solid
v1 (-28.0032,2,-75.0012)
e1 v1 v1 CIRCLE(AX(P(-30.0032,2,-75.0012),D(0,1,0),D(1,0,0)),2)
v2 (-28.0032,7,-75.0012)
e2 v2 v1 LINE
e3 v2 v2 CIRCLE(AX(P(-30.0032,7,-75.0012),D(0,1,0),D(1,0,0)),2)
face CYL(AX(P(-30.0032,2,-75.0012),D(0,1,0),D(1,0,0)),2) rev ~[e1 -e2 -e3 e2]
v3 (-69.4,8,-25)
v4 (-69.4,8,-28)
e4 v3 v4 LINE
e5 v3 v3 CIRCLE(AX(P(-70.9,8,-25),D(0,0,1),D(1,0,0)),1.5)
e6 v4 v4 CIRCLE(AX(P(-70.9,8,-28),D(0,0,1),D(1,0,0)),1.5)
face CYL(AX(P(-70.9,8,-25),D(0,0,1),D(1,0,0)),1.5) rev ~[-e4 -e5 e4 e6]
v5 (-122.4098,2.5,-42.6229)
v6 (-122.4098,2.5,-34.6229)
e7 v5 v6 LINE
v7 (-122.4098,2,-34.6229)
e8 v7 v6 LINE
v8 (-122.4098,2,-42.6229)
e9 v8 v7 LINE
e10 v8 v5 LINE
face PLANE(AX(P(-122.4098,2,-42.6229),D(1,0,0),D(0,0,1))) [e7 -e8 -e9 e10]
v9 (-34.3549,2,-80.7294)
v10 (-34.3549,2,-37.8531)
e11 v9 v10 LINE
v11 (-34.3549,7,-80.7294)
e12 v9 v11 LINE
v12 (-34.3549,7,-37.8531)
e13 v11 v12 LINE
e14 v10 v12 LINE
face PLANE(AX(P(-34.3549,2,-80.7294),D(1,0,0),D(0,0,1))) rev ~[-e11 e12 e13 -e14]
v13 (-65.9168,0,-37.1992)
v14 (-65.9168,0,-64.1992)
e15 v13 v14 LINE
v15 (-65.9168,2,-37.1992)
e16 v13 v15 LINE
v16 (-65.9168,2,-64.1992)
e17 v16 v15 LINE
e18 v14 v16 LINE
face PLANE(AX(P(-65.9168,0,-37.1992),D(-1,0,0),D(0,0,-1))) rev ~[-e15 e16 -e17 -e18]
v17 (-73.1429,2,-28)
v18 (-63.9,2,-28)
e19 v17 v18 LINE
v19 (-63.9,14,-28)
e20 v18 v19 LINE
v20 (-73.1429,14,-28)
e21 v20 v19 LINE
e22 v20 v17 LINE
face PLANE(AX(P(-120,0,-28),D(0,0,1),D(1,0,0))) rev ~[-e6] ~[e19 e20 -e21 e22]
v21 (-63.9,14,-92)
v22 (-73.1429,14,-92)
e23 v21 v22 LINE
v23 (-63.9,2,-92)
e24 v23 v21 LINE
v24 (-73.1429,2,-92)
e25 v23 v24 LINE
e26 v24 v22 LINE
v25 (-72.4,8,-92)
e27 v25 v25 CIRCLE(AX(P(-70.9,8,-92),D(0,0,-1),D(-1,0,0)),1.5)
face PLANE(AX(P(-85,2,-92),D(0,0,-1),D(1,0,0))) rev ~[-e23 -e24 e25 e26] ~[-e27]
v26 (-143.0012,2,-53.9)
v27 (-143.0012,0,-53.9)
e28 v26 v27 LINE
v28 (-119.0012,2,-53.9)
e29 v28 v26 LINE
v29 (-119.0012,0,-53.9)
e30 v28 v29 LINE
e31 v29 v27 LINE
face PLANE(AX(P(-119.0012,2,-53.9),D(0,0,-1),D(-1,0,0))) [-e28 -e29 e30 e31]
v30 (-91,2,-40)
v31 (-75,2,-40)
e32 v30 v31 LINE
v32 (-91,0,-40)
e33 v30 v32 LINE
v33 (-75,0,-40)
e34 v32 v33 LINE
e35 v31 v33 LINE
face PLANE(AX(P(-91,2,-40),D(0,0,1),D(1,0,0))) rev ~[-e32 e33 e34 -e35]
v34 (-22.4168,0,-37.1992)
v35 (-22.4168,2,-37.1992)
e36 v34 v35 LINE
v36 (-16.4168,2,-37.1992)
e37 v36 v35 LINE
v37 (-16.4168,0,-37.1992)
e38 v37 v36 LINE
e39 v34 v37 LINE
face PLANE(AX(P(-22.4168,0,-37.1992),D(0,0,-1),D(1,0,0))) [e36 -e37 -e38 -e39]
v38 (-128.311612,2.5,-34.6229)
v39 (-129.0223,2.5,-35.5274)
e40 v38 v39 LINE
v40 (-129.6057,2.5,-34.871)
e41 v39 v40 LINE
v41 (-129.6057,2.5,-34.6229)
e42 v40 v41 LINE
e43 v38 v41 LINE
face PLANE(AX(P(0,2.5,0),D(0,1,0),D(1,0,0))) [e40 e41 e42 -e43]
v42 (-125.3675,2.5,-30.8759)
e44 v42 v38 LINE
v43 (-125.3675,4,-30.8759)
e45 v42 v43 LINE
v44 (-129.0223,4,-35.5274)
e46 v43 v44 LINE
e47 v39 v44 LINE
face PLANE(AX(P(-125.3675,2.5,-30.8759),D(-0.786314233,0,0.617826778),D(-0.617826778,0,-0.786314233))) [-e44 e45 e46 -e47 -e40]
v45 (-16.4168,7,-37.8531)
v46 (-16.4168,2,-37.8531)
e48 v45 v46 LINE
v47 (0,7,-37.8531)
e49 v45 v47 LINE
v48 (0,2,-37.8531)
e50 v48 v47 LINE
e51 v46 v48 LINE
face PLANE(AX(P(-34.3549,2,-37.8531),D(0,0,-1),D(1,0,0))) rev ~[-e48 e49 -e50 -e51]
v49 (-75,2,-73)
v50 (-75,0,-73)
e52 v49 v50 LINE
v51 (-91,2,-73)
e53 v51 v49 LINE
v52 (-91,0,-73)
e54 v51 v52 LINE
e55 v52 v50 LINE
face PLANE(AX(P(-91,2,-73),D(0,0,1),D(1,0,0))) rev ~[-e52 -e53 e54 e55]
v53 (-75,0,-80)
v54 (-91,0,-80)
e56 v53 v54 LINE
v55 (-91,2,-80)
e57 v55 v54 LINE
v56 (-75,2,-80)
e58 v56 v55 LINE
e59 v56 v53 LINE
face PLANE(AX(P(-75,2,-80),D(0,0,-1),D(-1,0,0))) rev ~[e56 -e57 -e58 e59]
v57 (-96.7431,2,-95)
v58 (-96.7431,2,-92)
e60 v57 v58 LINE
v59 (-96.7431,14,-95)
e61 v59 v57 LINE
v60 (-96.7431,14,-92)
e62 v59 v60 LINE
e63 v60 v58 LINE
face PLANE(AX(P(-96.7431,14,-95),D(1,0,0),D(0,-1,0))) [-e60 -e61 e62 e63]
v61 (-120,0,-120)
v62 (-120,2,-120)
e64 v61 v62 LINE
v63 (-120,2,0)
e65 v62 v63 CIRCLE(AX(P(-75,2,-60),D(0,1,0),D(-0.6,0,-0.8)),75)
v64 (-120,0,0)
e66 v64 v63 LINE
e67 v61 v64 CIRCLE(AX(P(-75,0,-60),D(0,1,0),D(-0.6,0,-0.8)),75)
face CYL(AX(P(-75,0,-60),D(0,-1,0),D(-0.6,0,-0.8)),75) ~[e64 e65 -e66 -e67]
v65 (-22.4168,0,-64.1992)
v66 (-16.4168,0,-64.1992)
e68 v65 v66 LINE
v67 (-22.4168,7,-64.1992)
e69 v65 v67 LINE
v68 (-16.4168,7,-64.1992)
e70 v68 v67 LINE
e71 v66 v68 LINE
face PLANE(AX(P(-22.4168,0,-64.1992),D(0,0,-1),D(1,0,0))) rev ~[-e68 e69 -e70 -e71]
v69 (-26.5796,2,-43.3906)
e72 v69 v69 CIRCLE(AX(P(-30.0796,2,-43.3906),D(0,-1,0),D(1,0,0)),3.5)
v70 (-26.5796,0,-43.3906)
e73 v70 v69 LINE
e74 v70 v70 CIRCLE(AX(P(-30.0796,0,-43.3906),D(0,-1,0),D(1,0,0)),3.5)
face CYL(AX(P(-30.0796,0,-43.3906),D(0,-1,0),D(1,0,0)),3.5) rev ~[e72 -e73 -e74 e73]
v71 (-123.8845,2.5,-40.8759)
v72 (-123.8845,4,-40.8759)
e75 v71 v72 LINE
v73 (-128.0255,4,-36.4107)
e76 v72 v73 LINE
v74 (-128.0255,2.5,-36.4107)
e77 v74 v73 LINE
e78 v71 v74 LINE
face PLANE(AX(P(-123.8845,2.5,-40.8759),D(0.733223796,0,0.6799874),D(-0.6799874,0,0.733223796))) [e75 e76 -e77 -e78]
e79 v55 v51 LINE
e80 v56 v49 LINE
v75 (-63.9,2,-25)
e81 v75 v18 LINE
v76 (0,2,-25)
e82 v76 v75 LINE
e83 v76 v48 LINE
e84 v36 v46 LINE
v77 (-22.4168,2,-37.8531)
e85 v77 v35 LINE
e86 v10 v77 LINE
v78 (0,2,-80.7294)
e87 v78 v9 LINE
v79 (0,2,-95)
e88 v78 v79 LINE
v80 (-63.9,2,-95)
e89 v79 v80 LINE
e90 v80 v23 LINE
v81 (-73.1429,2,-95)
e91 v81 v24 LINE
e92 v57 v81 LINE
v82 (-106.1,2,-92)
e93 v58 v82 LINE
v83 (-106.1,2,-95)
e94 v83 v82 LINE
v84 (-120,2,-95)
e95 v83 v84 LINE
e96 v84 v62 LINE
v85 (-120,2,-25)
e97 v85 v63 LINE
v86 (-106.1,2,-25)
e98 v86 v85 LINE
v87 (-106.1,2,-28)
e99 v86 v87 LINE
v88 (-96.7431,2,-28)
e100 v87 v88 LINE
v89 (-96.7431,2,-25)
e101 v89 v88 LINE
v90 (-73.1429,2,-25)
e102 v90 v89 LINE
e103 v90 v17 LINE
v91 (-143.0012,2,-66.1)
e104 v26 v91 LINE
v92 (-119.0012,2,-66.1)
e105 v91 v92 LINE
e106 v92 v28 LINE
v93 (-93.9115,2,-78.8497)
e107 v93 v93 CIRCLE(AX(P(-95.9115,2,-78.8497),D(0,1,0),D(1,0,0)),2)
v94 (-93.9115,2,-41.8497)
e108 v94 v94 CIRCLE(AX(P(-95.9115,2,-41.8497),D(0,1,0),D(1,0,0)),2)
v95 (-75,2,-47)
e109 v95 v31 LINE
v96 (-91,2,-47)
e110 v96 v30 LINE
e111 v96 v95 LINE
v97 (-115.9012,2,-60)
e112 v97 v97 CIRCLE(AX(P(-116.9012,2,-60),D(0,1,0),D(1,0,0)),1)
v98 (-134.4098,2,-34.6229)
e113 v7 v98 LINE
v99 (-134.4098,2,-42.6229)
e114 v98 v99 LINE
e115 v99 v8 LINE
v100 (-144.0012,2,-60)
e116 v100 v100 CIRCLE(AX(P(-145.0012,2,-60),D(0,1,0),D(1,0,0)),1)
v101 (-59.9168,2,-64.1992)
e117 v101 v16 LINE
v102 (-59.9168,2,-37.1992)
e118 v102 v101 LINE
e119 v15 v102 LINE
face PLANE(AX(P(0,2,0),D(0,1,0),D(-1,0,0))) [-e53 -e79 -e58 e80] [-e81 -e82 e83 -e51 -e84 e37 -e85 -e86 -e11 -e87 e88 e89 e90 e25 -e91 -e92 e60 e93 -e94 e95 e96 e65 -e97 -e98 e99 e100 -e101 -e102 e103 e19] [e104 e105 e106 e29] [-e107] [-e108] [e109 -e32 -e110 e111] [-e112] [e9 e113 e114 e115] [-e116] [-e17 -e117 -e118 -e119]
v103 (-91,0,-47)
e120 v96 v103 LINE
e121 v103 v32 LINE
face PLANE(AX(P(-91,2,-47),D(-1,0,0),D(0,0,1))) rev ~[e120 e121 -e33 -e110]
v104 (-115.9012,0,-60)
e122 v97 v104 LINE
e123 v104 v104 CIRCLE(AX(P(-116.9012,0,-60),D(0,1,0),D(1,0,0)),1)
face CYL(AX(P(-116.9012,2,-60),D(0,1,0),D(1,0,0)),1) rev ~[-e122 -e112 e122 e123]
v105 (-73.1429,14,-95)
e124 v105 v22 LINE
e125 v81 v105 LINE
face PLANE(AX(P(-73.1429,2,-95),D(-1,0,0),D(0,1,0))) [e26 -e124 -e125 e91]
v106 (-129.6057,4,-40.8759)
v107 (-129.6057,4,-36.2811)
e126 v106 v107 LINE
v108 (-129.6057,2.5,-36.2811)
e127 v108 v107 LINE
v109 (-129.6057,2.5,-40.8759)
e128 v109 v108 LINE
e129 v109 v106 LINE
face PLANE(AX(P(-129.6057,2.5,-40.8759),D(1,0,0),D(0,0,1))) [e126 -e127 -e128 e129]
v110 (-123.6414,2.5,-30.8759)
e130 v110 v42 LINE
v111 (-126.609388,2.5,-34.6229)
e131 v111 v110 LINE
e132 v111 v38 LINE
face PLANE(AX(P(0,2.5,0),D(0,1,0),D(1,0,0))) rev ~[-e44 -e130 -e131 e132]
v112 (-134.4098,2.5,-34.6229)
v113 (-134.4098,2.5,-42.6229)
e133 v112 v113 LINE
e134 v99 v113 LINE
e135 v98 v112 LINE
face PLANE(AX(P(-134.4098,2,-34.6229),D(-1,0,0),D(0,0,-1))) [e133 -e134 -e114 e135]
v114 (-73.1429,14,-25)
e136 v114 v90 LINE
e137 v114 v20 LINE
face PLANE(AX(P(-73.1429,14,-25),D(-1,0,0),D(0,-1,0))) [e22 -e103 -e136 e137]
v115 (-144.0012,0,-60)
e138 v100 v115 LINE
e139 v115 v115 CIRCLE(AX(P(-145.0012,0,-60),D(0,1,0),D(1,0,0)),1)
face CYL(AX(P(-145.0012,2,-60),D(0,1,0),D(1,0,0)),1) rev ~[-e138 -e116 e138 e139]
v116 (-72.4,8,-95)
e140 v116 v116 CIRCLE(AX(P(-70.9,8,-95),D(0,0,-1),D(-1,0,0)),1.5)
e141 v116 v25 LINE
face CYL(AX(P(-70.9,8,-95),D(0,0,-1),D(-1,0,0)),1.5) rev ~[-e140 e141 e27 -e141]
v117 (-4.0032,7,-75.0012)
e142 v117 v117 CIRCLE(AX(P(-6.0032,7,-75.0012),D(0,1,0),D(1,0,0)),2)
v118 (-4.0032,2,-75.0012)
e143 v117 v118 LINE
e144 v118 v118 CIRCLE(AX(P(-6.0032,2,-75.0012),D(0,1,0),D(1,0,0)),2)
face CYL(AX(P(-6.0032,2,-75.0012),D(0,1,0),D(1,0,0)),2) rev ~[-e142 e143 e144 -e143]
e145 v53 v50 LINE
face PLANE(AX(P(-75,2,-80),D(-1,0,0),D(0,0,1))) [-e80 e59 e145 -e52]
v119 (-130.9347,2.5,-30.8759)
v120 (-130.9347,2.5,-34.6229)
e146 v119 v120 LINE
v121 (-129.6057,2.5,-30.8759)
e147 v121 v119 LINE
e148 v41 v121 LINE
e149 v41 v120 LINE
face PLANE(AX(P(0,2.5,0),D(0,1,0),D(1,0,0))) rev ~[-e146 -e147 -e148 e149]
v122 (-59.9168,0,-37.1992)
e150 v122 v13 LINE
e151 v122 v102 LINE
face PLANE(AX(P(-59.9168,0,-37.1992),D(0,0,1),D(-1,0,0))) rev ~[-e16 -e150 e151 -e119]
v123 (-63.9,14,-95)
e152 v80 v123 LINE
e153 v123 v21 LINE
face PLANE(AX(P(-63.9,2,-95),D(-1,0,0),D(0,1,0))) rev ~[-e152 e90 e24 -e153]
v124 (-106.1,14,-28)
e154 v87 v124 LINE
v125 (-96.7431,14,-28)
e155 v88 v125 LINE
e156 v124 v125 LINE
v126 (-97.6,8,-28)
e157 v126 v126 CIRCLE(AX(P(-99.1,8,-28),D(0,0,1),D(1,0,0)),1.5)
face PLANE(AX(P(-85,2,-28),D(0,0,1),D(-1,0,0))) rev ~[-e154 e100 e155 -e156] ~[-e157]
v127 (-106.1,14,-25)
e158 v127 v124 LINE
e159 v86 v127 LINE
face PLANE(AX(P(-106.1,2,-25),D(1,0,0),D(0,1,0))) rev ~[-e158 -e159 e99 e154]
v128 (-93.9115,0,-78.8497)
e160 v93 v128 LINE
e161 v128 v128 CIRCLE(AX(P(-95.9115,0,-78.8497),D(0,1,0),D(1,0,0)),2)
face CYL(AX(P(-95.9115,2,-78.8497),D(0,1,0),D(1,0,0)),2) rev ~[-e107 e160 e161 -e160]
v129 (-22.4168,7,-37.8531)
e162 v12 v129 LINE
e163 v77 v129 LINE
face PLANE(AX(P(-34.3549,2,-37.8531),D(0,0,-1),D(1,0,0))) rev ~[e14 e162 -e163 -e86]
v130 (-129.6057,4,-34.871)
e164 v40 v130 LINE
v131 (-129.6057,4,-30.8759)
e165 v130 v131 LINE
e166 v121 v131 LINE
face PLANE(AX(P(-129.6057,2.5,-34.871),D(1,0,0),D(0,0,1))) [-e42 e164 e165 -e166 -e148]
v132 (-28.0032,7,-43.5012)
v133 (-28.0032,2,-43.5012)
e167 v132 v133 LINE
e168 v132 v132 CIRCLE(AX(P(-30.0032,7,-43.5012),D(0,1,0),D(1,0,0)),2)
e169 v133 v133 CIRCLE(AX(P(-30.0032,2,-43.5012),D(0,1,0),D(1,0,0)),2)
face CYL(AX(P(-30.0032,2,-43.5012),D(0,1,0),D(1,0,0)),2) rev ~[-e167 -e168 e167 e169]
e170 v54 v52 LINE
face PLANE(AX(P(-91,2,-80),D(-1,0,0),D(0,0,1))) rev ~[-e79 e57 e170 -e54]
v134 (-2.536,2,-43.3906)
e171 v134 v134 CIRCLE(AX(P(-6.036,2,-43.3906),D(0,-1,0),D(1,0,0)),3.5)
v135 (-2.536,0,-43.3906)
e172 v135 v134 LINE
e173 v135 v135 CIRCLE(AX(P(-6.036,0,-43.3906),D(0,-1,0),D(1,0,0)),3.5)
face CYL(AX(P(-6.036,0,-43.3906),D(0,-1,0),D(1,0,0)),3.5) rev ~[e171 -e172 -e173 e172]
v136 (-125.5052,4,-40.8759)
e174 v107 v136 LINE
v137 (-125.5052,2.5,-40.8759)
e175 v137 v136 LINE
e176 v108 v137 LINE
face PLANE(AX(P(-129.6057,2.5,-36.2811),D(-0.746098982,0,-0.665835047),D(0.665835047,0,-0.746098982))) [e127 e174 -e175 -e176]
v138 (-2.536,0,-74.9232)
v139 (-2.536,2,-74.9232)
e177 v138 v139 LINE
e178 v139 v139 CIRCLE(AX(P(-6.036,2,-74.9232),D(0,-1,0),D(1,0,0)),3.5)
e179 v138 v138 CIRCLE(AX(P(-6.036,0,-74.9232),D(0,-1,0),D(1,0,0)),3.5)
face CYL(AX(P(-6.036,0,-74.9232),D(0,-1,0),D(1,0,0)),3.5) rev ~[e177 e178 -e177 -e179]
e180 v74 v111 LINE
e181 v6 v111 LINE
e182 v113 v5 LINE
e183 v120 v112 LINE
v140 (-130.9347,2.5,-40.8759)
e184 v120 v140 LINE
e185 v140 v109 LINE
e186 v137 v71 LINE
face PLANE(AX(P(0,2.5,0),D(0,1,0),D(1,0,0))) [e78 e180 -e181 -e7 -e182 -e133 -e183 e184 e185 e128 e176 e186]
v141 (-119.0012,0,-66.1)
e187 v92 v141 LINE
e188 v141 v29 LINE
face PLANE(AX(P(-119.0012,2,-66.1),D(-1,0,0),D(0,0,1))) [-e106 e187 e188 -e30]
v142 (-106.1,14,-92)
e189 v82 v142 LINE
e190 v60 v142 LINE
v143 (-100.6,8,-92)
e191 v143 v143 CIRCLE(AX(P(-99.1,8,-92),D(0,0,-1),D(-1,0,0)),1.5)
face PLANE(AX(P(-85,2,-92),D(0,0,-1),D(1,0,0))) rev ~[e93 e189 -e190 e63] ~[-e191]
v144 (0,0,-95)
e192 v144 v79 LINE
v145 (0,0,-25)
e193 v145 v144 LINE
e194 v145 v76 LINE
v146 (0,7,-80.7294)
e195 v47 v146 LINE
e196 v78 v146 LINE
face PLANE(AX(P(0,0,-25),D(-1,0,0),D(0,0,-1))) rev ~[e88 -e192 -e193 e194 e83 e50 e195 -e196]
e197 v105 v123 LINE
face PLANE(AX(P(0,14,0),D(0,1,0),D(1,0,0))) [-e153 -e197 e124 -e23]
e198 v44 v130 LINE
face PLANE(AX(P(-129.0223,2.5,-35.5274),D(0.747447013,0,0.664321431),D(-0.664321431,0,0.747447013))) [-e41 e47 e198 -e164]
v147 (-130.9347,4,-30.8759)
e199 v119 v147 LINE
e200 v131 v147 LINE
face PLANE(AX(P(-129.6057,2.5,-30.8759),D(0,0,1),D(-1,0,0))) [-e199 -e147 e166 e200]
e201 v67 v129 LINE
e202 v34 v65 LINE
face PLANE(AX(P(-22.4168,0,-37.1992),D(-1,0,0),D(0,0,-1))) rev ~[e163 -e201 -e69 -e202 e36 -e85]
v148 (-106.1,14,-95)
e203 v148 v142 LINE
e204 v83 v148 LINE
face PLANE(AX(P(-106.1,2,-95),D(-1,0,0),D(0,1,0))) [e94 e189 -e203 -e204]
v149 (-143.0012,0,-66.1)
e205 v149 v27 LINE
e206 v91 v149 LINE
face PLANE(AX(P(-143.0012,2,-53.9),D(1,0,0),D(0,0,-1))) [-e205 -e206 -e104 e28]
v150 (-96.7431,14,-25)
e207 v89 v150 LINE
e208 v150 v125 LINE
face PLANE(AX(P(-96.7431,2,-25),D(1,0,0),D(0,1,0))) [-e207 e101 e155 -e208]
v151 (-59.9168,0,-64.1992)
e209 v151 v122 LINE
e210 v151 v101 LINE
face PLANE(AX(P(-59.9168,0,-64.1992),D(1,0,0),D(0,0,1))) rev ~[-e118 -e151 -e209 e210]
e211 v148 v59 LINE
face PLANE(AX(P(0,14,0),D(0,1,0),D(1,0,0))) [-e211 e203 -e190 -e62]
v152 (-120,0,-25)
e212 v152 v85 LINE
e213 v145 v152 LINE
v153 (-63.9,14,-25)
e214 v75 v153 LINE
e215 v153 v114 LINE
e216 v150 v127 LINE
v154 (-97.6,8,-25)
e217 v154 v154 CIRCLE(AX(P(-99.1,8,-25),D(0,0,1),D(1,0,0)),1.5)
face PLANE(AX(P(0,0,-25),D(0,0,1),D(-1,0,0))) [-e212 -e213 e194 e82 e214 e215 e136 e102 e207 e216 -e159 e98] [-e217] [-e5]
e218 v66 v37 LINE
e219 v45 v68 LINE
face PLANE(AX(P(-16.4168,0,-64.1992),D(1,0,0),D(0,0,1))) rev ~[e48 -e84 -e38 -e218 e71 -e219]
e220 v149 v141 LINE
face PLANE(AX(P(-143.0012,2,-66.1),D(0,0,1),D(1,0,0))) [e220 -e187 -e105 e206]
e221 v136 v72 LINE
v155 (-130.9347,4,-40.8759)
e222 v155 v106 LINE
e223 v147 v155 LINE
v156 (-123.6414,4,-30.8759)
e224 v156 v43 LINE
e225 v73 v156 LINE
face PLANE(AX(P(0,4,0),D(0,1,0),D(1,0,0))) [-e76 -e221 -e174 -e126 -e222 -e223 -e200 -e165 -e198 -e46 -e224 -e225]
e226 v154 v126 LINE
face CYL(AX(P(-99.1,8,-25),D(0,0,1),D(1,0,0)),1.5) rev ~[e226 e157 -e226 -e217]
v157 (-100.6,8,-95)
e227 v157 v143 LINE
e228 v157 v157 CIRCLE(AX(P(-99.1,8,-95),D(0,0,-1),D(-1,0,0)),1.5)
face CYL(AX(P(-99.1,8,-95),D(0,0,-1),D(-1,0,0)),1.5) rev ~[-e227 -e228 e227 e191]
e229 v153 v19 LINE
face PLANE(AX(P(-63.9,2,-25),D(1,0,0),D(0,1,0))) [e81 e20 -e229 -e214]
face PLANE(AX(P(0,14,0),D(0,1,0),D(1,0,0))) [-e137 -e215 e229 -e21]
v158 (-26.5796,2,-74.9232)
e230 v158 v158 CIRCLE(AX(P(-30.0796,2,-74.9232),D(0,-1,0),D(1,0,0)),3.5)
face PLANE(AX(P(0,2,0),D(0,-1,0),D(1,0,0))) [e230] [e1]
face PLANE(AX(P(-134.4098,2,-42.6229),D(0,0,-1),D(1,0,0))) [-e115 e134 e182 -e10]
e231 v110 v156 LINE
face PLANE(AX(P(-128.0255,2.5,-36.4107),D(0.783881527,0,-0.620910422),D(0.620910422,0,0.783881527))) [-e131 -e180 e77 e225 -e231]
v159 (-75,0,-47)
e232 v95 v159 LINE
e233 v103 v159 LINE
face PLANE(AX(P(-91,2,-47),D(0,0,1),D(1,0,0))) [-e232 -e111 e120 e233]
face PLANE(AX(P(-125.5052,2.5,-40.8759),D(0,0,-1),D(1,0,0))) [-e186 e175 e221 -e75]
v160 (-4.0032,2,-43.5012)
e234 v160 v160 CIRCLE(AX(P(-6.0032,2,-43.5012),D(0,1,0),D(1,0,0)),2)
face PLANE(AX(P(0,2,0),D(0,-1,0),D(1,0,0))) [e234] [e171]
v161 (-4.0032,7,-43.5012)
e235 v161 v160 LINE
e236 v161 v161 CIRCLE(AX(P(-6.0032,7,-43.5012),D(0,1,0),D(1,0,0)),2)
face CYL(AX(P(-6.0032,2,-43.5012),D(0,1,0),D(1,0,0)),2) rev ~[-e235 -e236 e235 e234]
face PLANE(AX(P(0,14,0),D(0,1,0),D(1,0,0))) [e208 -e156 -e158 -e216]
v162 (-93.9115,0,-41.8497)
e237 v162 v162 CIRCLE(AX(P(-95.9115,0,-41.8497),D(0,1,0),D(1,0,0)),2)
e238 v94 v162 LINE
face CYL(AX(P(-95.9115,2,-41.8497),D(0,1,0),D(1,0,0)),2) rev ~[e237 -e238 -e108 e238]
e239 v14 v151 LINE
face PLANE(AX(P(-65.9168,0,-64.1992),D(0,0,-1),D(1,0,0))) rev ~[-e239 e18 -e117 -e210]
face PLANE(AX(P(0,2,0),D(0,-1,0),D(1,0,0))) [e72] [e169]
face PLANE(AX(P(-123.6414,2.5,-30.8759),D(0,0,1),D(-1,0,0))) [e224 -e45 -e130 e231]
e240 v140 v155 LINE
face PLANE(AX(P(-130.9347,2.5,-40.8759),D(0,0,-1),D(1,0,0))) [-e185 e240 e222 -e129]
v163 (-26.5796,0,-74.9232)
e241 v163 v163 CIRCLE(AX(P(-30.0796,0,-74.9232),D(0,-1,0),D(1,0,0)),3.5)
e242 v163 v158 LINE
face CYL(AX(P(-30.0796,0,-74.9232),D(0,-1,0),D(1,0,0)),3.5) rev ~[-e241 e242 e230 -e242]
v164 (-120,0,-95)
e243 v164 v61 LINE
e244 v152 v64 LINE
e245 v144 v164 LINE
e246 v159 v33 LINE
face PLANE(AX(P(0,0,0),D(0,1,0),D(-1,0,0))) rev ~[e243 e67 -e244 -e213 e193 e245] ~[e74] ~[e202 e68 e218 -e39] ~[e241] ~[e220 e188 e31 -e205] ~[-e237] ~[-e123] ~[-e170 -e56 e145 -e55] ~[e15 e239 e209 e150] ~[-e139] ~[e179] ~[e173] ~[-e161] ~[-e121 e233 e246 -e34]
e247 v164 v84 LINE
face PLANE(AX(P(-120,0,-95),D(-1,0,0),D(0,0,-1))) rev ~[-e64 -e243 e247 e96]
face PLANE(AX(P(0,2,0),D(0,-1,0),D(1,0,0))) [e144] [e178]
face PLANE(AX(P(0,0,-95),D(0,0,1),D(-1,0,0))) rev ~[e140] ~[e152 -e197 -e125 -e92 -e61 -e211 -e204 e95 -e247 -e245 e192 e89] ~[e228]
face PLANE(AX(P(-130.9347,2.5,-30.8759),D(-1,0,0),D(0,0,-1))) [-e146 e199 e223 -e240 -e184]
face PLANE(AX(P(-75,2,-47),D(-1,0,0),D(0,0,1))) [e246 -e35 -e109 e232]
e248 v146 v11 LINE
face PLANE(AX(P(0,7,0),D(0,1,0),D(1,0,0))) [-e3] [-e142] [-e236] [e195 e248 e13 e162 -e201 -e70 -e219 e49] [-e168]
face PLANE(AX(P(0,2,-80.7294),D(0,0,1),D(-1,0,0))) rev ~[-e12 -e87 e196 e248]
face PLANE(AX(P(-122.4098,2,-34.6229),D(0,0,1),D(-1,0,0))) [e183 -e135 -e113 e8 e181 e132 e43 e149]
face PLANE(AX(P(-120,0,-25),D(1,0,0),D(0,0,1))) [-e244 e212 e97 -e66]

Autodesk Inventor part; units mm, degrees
ref_plane "YZ Plane" through (0, 0, 0) normal (1, 0, 0) x (0, 1, 0)
ref_plane "XZ Plane" through (0, 0, 0) normal (0, 1, 0) x (-1, 0, 0)
ref_plane "XY Plane" through (0, 0, 0) normal (0, 0, 1) x (1, 0, 0)
sketch "Sketch1" plane through (0, 0, 0) normal (0, 1, 0) x (-1, 0, 0)
  line L0 (0, -60) -> (150, -60) construction
  line L1 (75, 0) -> (75, -120) construction
  line L2 (150, 0) -> (120, 0) construction
  line L3 (120, 0) -> (120, -120) construction
  line L4 (120, -120) -> (150, -120) construction
  arc A0 (120, -120) -> (120, 0) centre (75, -60) ccw
  line L5 (0, -25) -> (120, -25)
  line L6 (120, -25) -> (120, 0)
  line L7 (0, -95) -> (120, -95)
  line L8 (120, -95) -> (120, -120)
  line L9 (0, -25) -> (0, -95)
  point P0 (0, 0)
  dimension "d2" = 30
  dimension "d4" = 120
  dimension "d6" = 120
  dimension "d7" = 75
  dimension "d8" = 60
  dimension "d9" = 95
  dimension "d10" = 25
  dimension "d11" = 0
  dimension "d12" = 120
  dimension "d13" = 30
  dimension "d14" = 30
  dimension "d15" = 0
  dimension "d16" = 120
extrude "Extrusion1" add sketch "Sketch1" along normal blind 2
sketch "Sketch2" plane through (0, 2, 0) normal (0, 1, 0) x (1, 0, 0)
  line L0 (0, 25) -> (0, 95) construction
  line L1 (0, 60) -> (-150, 60) construction
  arc A0 (-120, 120) -> (-120, 0) centre (-75, 60) ccw construction
  line L2 (-117.4507, 52.0399) -> (-117.4507, 68.4308) construction
  line L3 (-114.9012, 60) -> (-114.9012, 66.1) construction
  line L4 (-114.9012, 66.1) -> (-147.0012, 66.1) construction
  line L5 (-147.0012, 66.1) -> (-147.0012, 53.9) construction
  line L6 (-114.9012, 53.9) -> (-114.9012, 60) construction
  line L7 (-147.0012, 60) -> (-147.0012, 62) construction
  line L8 (-147.0012, 62) -> (-143.0012, 62) construction
  line L9 (-143.0012, 62) -> (-143.0012, 58) construction
  line L10 (-143.0012, 58) -> (-147.0012, 58) construction
  line L11 (-147.0012, 60) -> (-147.0012, 58) construction
  line L12 (-143.0012, 58) -> (-147.0012, 62) construction
  line L13 (-143.0012, 62) -> (-147.0012, 58) construction
  circle A1 centre (-145.0012, 60) radius 1
  line L14 (-114.9012, 60) -> (-114.9012, 62) construction
  line L15 (-114.9012, 62) -> (-118.9012, 62) construction
  line L16 (-118.9012, 62) -> (-118.9012, 58) construction
  line L17 (-118.9012, 58) -> (-114.9012, 58) construction
  line L18 (-118.9012, 62) -> (-114.9012, 62) construction
  line L19 (-114.9012, 58) -> (-114.9012, 62) construction
  line L20 (-114.9012, 58) -> (-118.9012, 62) construction
  line L21 (-114.9012, 62) -> (-118.9012, 58) construction
  circle A2 centre (-116.9012, 60) radius 1
  line L22 (-145.0012, 60) -> (-116.9012, 60) construction
  line L23 (-143.0012, 66.0861) -> (-118.9012, 66.1)
  line L24 (-118.9012, 66.1) -> (-118.8942, 54)
  line L25 (-118.8942, 54) -> (-142.9942, 54)
  line L26 (-142.9942, 54) -> (-142.9942, 66.1)
  point P0 (0, 0)
  dimension "d22" = 117.4507
  dimension "d103" = 32.1
  dimension "d104" = 12.2
  dimension "d105" = 32.1
  dimension "d106" = 2
  dimension "d107" = 4
  dimension "d108" = 4
  dimension "d109" = 2
  dimension "d113" = 2
  dimension "d114" = 28.1
  dimension "d116" = 114.9012
  dimension "d117" = 2
  dimension "d118" = 118.9012
  dimension "d119" = 8.4308
  dimension "d120" = 7.9601
  dimension "d124" = 24.1
  dimension "d125" = 12.1
  dimension "d127" = 0.033
  dimension "d128" = 24.1
  dimension "d129" = 12.1
sketch "Sketch3" plane through (0, 2, 0) normal (0, 1, 0) x (1, 0, 0)
  line L0 (0, 25) -> (0, 95) construction
  line L1 (0, 60) -> (-150, 60) construction
  circle A0 centre (-30.0032, 43.5012) radius 2
  circle A1 centre (-30.0032, 75.0012) radius 2
  circle A2 centre (-6.0032, 75.0012) radius 2
  circle A3 centre (-6.0032, 43.5012) radius 2
  line L2 (-30.0032, 43.5012) -> (-30.0032, 75.0012) construction
  line L3 (-6.0032, 43.5012) -> (-6.0032, 75.0012) construction
  line L4 (-30.0032, 43.5012) -> (-6.0032, 43.5012) construction
  line L5 (-30.0032, 75.0012) -> (-6.0032, 75.0012) construction
  point P0 (0, 0)
  dimension "d29" = 150
  dimension "d36" = 4
  dimension "d37" = 4
  dimension "d41" = 31.5
  dimension "d42" = 31.5
  dimension "d43" = 24
  dimension "d44" = 24
  dimension "d45" = 6.0032
  dimension "d46" = 16.4988
extrude "Extrusion3" cut sketch "Sketch3" against normal blind 11
sketch "Sketch4" plane through (0, 2, 0) normal (0, 1, 0) x (1, 0, 0)
  line L0 (0, 95) -> (-120, 95) construction
  line L1 (-120, 25) -> (-50, 25) construction
  line L2 (-50, 25) -> (-50, 95) construction
  line L3 (-50, 95) -> (-120, 95) construction
  line L4 (-120, 95) -> (-120, 25) construction
  line L5 (-120, 95) -> (-50, 95) construction
  line L6 (-50, 95) -> (-50, 85) construction
  line L7 (-120, 85) -> (-120, 95) construction
  line L8 (-50, 25) -> (-50, 35) construction
  line L9 (-120, 35) -> (-120, 25) construction
  line L10 (-120, 30) -> (-50, 30) construction
  line L11 (-75, 80) -> (-91, 80)
  line L12 (-91, 40) -> (-75, 40)
  line L13 (-85, 95) -> (-85, 73) construction
  line L14 (-91, 73) -> (-75, 73)
  line L15 (-75, 73) -> (-75, 80) construction
  line L16 (-91, 80) -> (-91, 73)
  line L17 (-75, 80) -> (-75, 73)
  line L18 (-75, 73) -> (-75, 25) construction
  line L19 (-91, 47) -> (-75, 47)
  line L20 (-91, 47) -> (-91, 40)
  line L21 (-75, 47) -> (-75, 40)
  line L22 (-85, 73) -> (-85, 25) construction
  line L23 (-75, 80) -> (-75, 95) construction
  line L24 (-91, 80) -> (-91, 95) construction
  line L25 (-85, 95) -> (-91, 95)
  line L26 (-91, 95) -> (-91, 92.5)
  line L27 (-91, 92.5) -> (-79, 92.5)
  line L28 (-79, 92.5) -> (-79, 95)
  line L29 (-85, 25) -> (-91, 25)
  line L30 (-120, 25) -> (0, 25) projected
  line L31 (-91, 25) -> (-91, 27.5)
  line L32 (-91, 27.5) -> (-79, 27.5)
  line L33 (-79, 27.5) -> (-79, 25)
  line L34 (-85, 25) -> (-79, 25)
  line L35 (-79, 27.5) -> (-91, 27.5)
  line L36 (-75, 40) -> (-70, 40)
  line L37 (-70, 40) -> (-70, 47)
  line L38 (-70, 47) -> (-75, 47)
  line L39 (-75, 73) -> (-69.9974, 73)
  line L40 (-69.9974, 73) -> (-69.9974, 80)
  line L41 (-69.9974, 80) -> (-75, 80)
  point P0 (0, 0)
  dimension "d49" = 70
  dimension "d51" = 10
  dimension "d52" = 10
  dimension "d70" = 6
  dimension "d71" = 2.5
  dimension "d72" = 12
  dimension "d73" = 6
  dimension "d74" = 2.5
  dimension "d75" = 12
  dimension "d76" = 55
  dimension "d77" = 22
  dimension "d78" = 65
  dimension "d79" = 0
  dimension "d80" = 25
  dimension "d81" = 70
  dimension "d219" = 5
  dimension "d220" = 7
  dimension "d221" = 16
  dimension "d222" = 16
extrude "Extrusion5" cut sketch "Sketch4" against normal blind 3 contours L17 L14 L16 L11 | L20 L19 L21 L12
sketch "Sketch5" plane through (0, 2, 0) normal (0, 1, 0) x (1, 0, 0)
  line L0 (-120, 25) -> (0, 25) construction
  line L1 (-85, 25) -> (-85, 95) construction
  line L2 (0, 95) -> (-120, 95) construction
  line L3 (-85, 25) -> (-91, 25)
  line L4 (-85, 25) -> (-79, 25)
  line L5 (-85, 95) -> (-91, 95)
  line L6 (-85, 95) -> (-79, 95)
  line L7 (-85, 28) -> (-101.1, 28)
  line L8 (-85, 28) -> (-68.9, 28)
  line L9 (-85, 92) -> (-101.1, 92)
  line L10 (-85, 92) -> (-68.9, 92)
  line L11 (-68.9, 92) -> (-68.9, 95)
  line L12 (0, 95) -> (-120, 95) projected
  line L13 (-101.1, 92) -> (-101.1, 95)
  line L14 (-68.9, 95) -> (-101.1, 95)
  line L15 (-101.1, 28) -> (-101.1, 25)
  line L16 (-68.9, 25) -> (-101.1, 25)
  line L17 (-68.9, 28) -> (-68.9, 25)
  point P0 (0, 0)
  dimension "d84" = 6
  dimension "d157" = 16.1
  dimension "d158" = 16.1
  dimension "d159" = 16.1
  dimension "d160" = 16.1
  dimension "d169" = 90
  dimension "d170" = 90
  dimension "d171" = 67
  dimension "d172" = 3
  dimension "d173" = 0
  dimension "d174" = 16.1
  dimension "d175" = 68.9
  dimension "d176" = 10.1
  dimension "d177" = 10.1
  dimension "d178" = 22.1
extrude "Extrusion6" add sketch "Sketch5" along normal blind 12
sketch "Sketch6" plane through (-120, 0, -25) normal (0, 0, 1) x (1, 0, 0)
  line L0 (120, 0) -> (0, 0) construction
  line L1 (18.9, 2) -> (51.1, 2) construction
  line L2 (18.9, 2) -> (18.9, 14) construction
  line L3 (18.9, 8) -> (51.1, 8) construction
  line L4 (51.1, 2) -> (51.1, 14) construction
  line L5 (18.9, 8) -> (19.4, 8) construction
  line L6 (19.4, 8) -> (19.4, 14) construction
  line L7 (19.4, 8) -> (19.4, 2) construction
  line L8 (51.1, 2) -> (18.9, 2) construction
  line L9 (51.1, 8) -> (50.6, 8) construction
  line L10 (50.6, 8) -> (50.6, 14) construction
  line L11 (50.6, 14) -> (50.6, 2) construction
  line L12 (19.4, 8) -> (20.9, 8) construction
  circle A0 centre (20.9, 8) radius 1.5
  line L13 (50.6, 8) -> (49.1, 8) construction
  circle A1 centre (49.1, 8) radius 1.5
  dimension "d162" = 0.5
  dimension "d163" = 0.5
  dimension "d164" = 1.5
  dimension "d165" = 3
  dimension "d166" = 1.5
  dimension "d167" = 3
  dimension "d168" = 32.2
  dimension "d179" = 14
  dimension "d180" = 14
extrude "Extrusion7" cut sketch "Sketch6" against normal blind 3
sketch "Sketch7" plane through (0, 0, -95) normal (0, 0, -1) x (-1, 0, 0)
  line L0 (120, 0) -> (0, 0) construction
  line L1 (68.9, 2) -> (101.1, 2) construction
  line L2 (68.9, 2) -> (101.1, 2) construction
  line L3 (68.9, 2) -> (68.9, 14) construction
  line L4 (68.9, 8) -> (101.1, 8) construction
  circle A0 centre (70.9, 8) radius 1.5 projected
  circle A1 centre (70.9, 8) radius 1.5
  circle A2 centre (99.1, 8) radius 1.5 projected
  circle A3 centre (99.1, 8) radius 1.5
extrude "Extrusion8" cut sketch "Sketch7" against normal blind 3
extrude "Extrusion9" cut sketch "Sketch2" against normal blind 3 contours A1 | A2
sketch "Sketch9" plane through (0, 2, 0) normal (0, 1, 0) x (1, 0, 0)
  circle A0 centre (-116.9012, 60) radius 1 construction
  circle A1 centre (-145.0012, 60) radius 1 construction
  line L0 (-116.9012, 60) -> (-145.0012, 60) construction
  line L1 (-145.0012, 60) -> (-150, 60) construction
  arc A2 (-120, 120) -> (-120, 0) centre (-75, 60) ccw construction
  line L2 (-144.0012, 60) -> (-143.0012, 60) construction
  line L3 (-143.0012, 60) -> (-143.0012, 66.1)
  line L4 (-143.0012, 66.1) -> (-119.0012, 66.1)
  line L5 (-119.0012, 66.1) -> (-119.0012, 53.9)
  line L6 (-119.0012, 53.9) -> (-143.0012, 53.9)
  line L7 (-143.0012, 53.9) -> (-143.0012, 60)
  point P0 (0, 0)
  dimension "d130" = 1
  dimension "d131" = 6.1
  dimension "d132" = 24
  dimension "d133" = 12.2
extrude "Extrusion10" cut sketch "Sketch9" against normal blind 2
sketch "Sketch10" plane through (0, 2, 0) normal (0, 1, 0) x (1, 0, 0)
  line L0 (0, 25) -> (0, 95) projected
  line L1 (-34.3549, 37.8531) -> (0, 37.8531)
  line L2 (0, 37.8531) -> (0, 80.7294)
  line L3 (0, 80.7294) -> (-34.3549, 80.7294)
  line L4 (-34.3549, 80.7294) -> (-34.3549, 37.8531)
  circle A0 centre (-30.0032, 43.5012) radius 2 projected
  circle A1 centre (-30.0032, 43.5012) radius 2
  circle A2 centre (-30.0032, 75.0012) radius 2 projected
  circle A3 centre (-30.0032, 75.0012) radius 2
  circle A4 centre (-6.0032, 43.5012) radius 2 projected
  circle A5 centre (-6.0032, 43.5012) radius 2
  circle A6 centre (-6.0032, 75.0012) radius 2.1402
  point P0 (0, 0)
  dimension "d136" = 34.3548
  dimension "d137" = 42.8763
  dimension "d138" = 14.2706
  dimension "d147" = 4.2805
  dimension "d148" = 4
  dimension "d149" = 4
  dimension "d150" = 4
  dimension "d151" = 6.0032
  dimension "d152" = 5.7282
extrude "Extrusion11" add sketch "Sketch10" along normal blind 5 contours L1 L4 L3 L0 | A0 | A2 | A4 | A6
sketch "Sketch11" plane through (0, 7, 0) normal (0, 1, 0) x (1, 0, 0)
  circle A0 centre (-30.0032, 43.5012) radius 2 projected
  circle A1 centre (-30.0032, 43.5012) radius 2
  circle A2 centre (-30.0032, 75.0012) radius 2 projected
  circle A3 centre (-30.0032, 75.0012) radius 2
  circle A4 centre (-6.0032, 43.5012) radius 2 projected
  circle A5 centre (-6.0032, 43.5012) radius 2
  circle A6 centre (-6.0032, 75.0012) radius 2 projected
  circle A7 centre (-6.0032, 75.0012) radius 2
  point P0 (0, 0)
extrude "Extrusion12" cut sketch "Sketch11" against normal blind 11
sketch "Sketch13" plane through (0, 2, 0) normal (0, 1, 0) x (1, 0, 0)
  point P0 (0, 0)
sketch "Sketch14" plane through (0, 2, 0) normal (0, 1, 0) x (1, 0, 0)
  line L0 (-122.4098, 34.6229) -> (-134.4098, 34.6229)
  line L1 (-134.4098, 34.6229) -> (-134.4098, 42.6229)
  line L2 (-134.4098, 42.6229) -> (-122.4098, 42.6229)
  line L3 (-122.4098, 42.6229) -> (-122.4098, 34.6229)
  point P0 (0, 0)
  dimension "d183" = 12
  dimension "d184" = 8
extrude "Extrusion14" add sketch "Sketch14" along normal blind 0.5
sketch "Sketch16" plane through (0, 2.5, 0) normal (0, 1, 0) x (1, 0, 0)
  line L0 (-130.4881, 40.8759) -> (-125.3198, 40.8759) construction
  line L1 (-125.3198, 40.8759) -> (-125.3198, 24.6109) construction
  line L2 (-125.3198, 24.6109) -> (-130.4881, 24.6109) construction
  line L3 (-130.4881, 24.6109) -> (-130.4881, 40.8759) construction
  line L4 (-123.6414, 30.8759) -> (-125.3675, 30.8759)
  line L5 (-125.3675, 30.8759) -> (-129.0223, 35.5274)
  line L6 (-129.0223, 35.5274) -> (-129.6057, 34.871)
  line L7 (-129.6057, 34.871) -> (-129.6057, 30.8759)
  line L8 (-129.6057, 30.8759) -> (-130.9347, 30.8759)
  line L9 (-130.9347, 30.8759) -> (-130.9347, 40.8759)
  line L10 (-130.9347, 40.8759) -> (-129.6057, 40.8759)
  line L11 (-129.6057, 40.8759) -> (-129.6057, 36.2811)
  line L12 (-129.6057, 36.2811) -> (-125.5052, 40.8759)
  line L13 (-125.5052, 40.8759) -> (-123.8845, 40.8759)
  line L14 (-123.8845, 40.8759) -> (-128.0255, 36.4107)
  line L15 (-128.0255, 36.4107) -> (-123.6414, 30.8759)
  point P0 (0, 0)
  dimension "d270" = 5.1682
  dimension "d271" = 16.265
  dimension "d272" = 125.3198
  dimension "d273" = 40.8759
extrude "Extrusion15" add sketch "Sketch16" along normal blind 1.5
sketch "Sketch17" plane through (-120, 0, -25) normal (0, 0, 1) x (1, 0, 0)
  line L0 (18.9, 14) -> (51.1, 14) projected
  line L1 (23.2569, 14) -> (46.8571, 14)
  line L2 (46.8571, 14) -> (46.8571, 2)
  line L3 (46.8571, 2) -> (23.2569, 2)
  line L4 (23.2569, 2) -> (23.2569, 14)
  point P0 (120, 0)
  dimension "d189" = 12
  dimension "d190" = 23.6002
  dimension "d191" = 73.1429
extrude "Extrusion16" cut sketch "Sketch17" against normal blind 3
sketch "Sketch18" plane through (-120, 0, -25) normal (0, 0, 1) x (1, 0, 0)
  line L0 (18.9, 2) -> (13.9, 2)
  line L1 (13.9, 2) -> (13.9, 14)
  line L2 (13.9, 14) -> (18.9, 14)
  line L3 (18.9, 14) -> (18.9, 2)
  line L4 (51.1, 2) -> (56.1, 2)
  line L5 (56.1, 2) -> (56.1, 14)
  line L6 (56.1, 14) -> (51.1, 14)
  line L7 (51.1, 14) -> (51.1, 2)
  point P0 (120, 0)
  dimension "d194" = 5
  dimension "d195" = 12
  dimension "d196" = 5
  dimension "d197" = 12
extrude "Extrusion17" add sketch "Sketch18" against normal blind 3
sketch "Sketch19" plane through (0, 0, -95) normal (0, 0, -1) x (-1, 0, 0)
  line L0 (73.1429, 14) -> (96.7431, 14)
  line L1 (96.7431, 14) -> (96.7431, 2)
  line L2 (96.7431, 2) -> (73.1429, 2)
  line L3 (73.1429, 2) -> (73.1429, 14)
  point P0 (0, 0)
extrude "Extrusion18" cut sketch "Sketch19" against normal blind 3
sketch "Sketch20" plane through (0, 0, -95) normal (0, 0, -1) x (-1, 0, 0)
  line L0 (68.9, 2) -> (63.9, 2)
  line L1 (63.9, 2) -> (63.9, 14)
  line L2 (63.9, 14) -> (68.9, 14)
  line L3 (68.9, 14) -> (68.9, 2)
  line L4 (101.1, 2) -> (106.1, 2)
  line L5 (106.1, 2) -> (106.1, 14)
  line L6 (106.1, 14) -> (101.1, 14)
  line L7 (101.1, 14) -> (101.1, 2)
  point P0 (0, 0)
extrude "Extrusion19" add sketch "Sketch20" against normal blind 3
sketch "Sketch21" plane through (0, 0, 0) normal (0, -1, 0) x (1, 0, 0)
  circle A0 centre (-6.036, -74.9232) radius 3.5
  circle A1 centre (-30.0796, -74.9232) radius 3.5
  circle A2 centre (-30.0796, -43.3906) radius 3.5
  circle A3 centre (-6.036, -43.3906) radius 3.5
  point P0 (0, 0)
  dimension "d204" = 7
  dimension "d205" = 7
  dimension "d206" = 7
  dimension "d207" = 7
extrude "Extrusion20" cut sketch "Sketch21" against normal blind 2
sketch "Sketch22" plane through (0, 2, 0) normal (0, 1, 0) x (1, 0, 0)
  line L0 (-78.4615, 36.6997) -> (-113.3615, 36.6997) construction
  line L1 (-113.3615, 36.6997) -> (-113.3615, 83.9997) construction
  line L2 (-113.3615, 83.9997) -> (-78.4615, 83.9997) construction
  line L3 (-78.4615, 83.9997) -> (-78.4615, 36.6997) construction
  line L4 (-78.4615, 60.3497) -> (-113.3615, 60.3497) construction
  circle A0 centre (-95.9115, 41.8497) radius 2
  circle A1 centre (-95.9115, 78.8497) radius 2
  line L5 (-17.2206, 25.8993) -> (-68.7206, 25.8993) construction
  line L6 (-68.7206, 25.8993) -> (-68.7206, 93.3993) construction
  line L7 (-68.7206, 93.3993) -> (-17.2206, 93.3993) construction
  line L8 (-17.2206, 93.3993) -> (-17.2206, 25.8993) construction
  line L9 (-68.7206, 93.3993) -> (-62.4206, 93.3993) construction
  line L10 (-62.4206, 93.3993) -> (-62.4206, 56.4993) construction
  line L11 (-62.4206, 56.4993) -> (-68.7206, 56.4993) construction
  line L12 (-68.7206, 56.4993) -> (-67.2206, 56.4993) construction
  line L13 (-67.2206, 56.4993) -> (-61.2206, 56.4993)
  line L14 (-61.2206, 56.4993) -> (-61.2206, 83.4993)
  line L15 (-67.2206, 56.4993) -> (-67.2206, 83.4993)
  line L16 (-67.2206, 83.4993) -> (-61.2206, 83.4993)
  line L17 (-17.2206, 83.4993) -> (-61.2206, 83.4993) construction
  line L18 (-18.6258, 83.4993) -> (-24.6258, 83.4993)
  line L19 (-24.6258, 83.4993) -> (-24.6258, 56.4993)
  line L20 (-24.6258, 56.4993) -> (-18.6258, 56.4993)
  line L21 (-18.6258, 56.4993) -> (-18.6258, 83.4993)
  point P0 (0, 0)
  dimension "d210" = 34.9
  dimension "d211" = 47.3
  dimension "d213" = 4
  dimension "d215" = 4
  dimension "d216" = 37
  dimension "d223" = 67.5
  dimension "d224" = 51.5
  dimension "d225" = 6.3
  dimension "d226" = 36.9
  dimension "d227" = 1.5
  dimension "d228" = 6
  dimension "d229" = 27
  dimension "d236" = 27
  dimension "d237" = 6
  dimension "d238" = 1.4052
  dimension "d239" = 61.2409
  dimension "d240" = 0.5004
  dimension "d241" = 17.2206
  dimension "d242" = 83.4993
  dimension "d243" = 78.6909
  dimension "d244" = 4.6495
  dimension "d245" = 78.6909
extrude "Extrusion21" cut sketch "Sketch22" against normal blind 3 contours A0 | A1
sketch "Sketch23" plane through (0, 0, 0) normal (0, -1, 0) x (1, 0, 0)
  line L0 (-19.3168, -94.1992) -> (-67.4168, -94.1992) construction
  line L1 (-67.4168, -94.1992) -> (-67.4168, -26.6992) construction
  line L2 (-67.4168, -26.6992) -> (-19.3168, -26.6992) construction
  line L3 (-19.3168, -26.6992) -> (-19.3168, -94.1992) construction
  line L4 (-67.4168, -26.6992) -> (-65.9168, -26.6992) construction
  line L5 (-65.9168, -26.6992) -> (-65.9168, -64.1992) construction
  line L6 (-65.9168, -64.1992) -> (-59.9168, -64.1992)
  line L7 (-59.9168, -64.1992) -> (-59.9168, -37.1992)
  line L8 (-59.9168, -37.1992) -> (-65.9168, -37.1992)
  line L9 (-65.9168, -37.1992) -> (-65.9168, -64.1992)
  line L10 (-59.9168, -64.1992) -> (-19.3168, -64.1992) construction
  line L11 (-19.3168, -37.1992) -> (-21.5168, -37.1992) construction
  line L12 (-59.9168, -37.1992) -> (-22.4168, -37.1992) construction
  line L13 (-22.4168, -37.1992) -> (-16.4168, -37.1992)
  line L14 (-63.9, -25) -> (0, -25) construction
  line L15 (-22.4168, -37.1992) -> (-22.4168, -64.1992)
  line L16 (-22.4168, -64.1992) -> (-16.4168, -64.1992)
  line L17 (-16.4168, -64.1992) -> (-16.4168, -37.1992)
  point P0 (0, 0)
  dimension "d248" = 67.5
  dimension "d249" = 48.1
  dimension "d250" = 1.5
  dimension "d251" = 37.5
  dimension "d252" = 6
  dimension "d253" = 27
  dimension "d254" = 6
  dimension "d260" = 37.5
  dimension "d261" = 6
  dimension "d262" = 6
  dimension "d263" = 90
  dimension "d264" = 12.1992
  dimension "d265" = 16.4168
  dimension "d266" = 37.1992
  dimension "d267" = 5.1
extrude "Extrusion22" cut sketch "Sketch23" against normal blind 8
properties part number "chasis_robot_kedama_rev7"
